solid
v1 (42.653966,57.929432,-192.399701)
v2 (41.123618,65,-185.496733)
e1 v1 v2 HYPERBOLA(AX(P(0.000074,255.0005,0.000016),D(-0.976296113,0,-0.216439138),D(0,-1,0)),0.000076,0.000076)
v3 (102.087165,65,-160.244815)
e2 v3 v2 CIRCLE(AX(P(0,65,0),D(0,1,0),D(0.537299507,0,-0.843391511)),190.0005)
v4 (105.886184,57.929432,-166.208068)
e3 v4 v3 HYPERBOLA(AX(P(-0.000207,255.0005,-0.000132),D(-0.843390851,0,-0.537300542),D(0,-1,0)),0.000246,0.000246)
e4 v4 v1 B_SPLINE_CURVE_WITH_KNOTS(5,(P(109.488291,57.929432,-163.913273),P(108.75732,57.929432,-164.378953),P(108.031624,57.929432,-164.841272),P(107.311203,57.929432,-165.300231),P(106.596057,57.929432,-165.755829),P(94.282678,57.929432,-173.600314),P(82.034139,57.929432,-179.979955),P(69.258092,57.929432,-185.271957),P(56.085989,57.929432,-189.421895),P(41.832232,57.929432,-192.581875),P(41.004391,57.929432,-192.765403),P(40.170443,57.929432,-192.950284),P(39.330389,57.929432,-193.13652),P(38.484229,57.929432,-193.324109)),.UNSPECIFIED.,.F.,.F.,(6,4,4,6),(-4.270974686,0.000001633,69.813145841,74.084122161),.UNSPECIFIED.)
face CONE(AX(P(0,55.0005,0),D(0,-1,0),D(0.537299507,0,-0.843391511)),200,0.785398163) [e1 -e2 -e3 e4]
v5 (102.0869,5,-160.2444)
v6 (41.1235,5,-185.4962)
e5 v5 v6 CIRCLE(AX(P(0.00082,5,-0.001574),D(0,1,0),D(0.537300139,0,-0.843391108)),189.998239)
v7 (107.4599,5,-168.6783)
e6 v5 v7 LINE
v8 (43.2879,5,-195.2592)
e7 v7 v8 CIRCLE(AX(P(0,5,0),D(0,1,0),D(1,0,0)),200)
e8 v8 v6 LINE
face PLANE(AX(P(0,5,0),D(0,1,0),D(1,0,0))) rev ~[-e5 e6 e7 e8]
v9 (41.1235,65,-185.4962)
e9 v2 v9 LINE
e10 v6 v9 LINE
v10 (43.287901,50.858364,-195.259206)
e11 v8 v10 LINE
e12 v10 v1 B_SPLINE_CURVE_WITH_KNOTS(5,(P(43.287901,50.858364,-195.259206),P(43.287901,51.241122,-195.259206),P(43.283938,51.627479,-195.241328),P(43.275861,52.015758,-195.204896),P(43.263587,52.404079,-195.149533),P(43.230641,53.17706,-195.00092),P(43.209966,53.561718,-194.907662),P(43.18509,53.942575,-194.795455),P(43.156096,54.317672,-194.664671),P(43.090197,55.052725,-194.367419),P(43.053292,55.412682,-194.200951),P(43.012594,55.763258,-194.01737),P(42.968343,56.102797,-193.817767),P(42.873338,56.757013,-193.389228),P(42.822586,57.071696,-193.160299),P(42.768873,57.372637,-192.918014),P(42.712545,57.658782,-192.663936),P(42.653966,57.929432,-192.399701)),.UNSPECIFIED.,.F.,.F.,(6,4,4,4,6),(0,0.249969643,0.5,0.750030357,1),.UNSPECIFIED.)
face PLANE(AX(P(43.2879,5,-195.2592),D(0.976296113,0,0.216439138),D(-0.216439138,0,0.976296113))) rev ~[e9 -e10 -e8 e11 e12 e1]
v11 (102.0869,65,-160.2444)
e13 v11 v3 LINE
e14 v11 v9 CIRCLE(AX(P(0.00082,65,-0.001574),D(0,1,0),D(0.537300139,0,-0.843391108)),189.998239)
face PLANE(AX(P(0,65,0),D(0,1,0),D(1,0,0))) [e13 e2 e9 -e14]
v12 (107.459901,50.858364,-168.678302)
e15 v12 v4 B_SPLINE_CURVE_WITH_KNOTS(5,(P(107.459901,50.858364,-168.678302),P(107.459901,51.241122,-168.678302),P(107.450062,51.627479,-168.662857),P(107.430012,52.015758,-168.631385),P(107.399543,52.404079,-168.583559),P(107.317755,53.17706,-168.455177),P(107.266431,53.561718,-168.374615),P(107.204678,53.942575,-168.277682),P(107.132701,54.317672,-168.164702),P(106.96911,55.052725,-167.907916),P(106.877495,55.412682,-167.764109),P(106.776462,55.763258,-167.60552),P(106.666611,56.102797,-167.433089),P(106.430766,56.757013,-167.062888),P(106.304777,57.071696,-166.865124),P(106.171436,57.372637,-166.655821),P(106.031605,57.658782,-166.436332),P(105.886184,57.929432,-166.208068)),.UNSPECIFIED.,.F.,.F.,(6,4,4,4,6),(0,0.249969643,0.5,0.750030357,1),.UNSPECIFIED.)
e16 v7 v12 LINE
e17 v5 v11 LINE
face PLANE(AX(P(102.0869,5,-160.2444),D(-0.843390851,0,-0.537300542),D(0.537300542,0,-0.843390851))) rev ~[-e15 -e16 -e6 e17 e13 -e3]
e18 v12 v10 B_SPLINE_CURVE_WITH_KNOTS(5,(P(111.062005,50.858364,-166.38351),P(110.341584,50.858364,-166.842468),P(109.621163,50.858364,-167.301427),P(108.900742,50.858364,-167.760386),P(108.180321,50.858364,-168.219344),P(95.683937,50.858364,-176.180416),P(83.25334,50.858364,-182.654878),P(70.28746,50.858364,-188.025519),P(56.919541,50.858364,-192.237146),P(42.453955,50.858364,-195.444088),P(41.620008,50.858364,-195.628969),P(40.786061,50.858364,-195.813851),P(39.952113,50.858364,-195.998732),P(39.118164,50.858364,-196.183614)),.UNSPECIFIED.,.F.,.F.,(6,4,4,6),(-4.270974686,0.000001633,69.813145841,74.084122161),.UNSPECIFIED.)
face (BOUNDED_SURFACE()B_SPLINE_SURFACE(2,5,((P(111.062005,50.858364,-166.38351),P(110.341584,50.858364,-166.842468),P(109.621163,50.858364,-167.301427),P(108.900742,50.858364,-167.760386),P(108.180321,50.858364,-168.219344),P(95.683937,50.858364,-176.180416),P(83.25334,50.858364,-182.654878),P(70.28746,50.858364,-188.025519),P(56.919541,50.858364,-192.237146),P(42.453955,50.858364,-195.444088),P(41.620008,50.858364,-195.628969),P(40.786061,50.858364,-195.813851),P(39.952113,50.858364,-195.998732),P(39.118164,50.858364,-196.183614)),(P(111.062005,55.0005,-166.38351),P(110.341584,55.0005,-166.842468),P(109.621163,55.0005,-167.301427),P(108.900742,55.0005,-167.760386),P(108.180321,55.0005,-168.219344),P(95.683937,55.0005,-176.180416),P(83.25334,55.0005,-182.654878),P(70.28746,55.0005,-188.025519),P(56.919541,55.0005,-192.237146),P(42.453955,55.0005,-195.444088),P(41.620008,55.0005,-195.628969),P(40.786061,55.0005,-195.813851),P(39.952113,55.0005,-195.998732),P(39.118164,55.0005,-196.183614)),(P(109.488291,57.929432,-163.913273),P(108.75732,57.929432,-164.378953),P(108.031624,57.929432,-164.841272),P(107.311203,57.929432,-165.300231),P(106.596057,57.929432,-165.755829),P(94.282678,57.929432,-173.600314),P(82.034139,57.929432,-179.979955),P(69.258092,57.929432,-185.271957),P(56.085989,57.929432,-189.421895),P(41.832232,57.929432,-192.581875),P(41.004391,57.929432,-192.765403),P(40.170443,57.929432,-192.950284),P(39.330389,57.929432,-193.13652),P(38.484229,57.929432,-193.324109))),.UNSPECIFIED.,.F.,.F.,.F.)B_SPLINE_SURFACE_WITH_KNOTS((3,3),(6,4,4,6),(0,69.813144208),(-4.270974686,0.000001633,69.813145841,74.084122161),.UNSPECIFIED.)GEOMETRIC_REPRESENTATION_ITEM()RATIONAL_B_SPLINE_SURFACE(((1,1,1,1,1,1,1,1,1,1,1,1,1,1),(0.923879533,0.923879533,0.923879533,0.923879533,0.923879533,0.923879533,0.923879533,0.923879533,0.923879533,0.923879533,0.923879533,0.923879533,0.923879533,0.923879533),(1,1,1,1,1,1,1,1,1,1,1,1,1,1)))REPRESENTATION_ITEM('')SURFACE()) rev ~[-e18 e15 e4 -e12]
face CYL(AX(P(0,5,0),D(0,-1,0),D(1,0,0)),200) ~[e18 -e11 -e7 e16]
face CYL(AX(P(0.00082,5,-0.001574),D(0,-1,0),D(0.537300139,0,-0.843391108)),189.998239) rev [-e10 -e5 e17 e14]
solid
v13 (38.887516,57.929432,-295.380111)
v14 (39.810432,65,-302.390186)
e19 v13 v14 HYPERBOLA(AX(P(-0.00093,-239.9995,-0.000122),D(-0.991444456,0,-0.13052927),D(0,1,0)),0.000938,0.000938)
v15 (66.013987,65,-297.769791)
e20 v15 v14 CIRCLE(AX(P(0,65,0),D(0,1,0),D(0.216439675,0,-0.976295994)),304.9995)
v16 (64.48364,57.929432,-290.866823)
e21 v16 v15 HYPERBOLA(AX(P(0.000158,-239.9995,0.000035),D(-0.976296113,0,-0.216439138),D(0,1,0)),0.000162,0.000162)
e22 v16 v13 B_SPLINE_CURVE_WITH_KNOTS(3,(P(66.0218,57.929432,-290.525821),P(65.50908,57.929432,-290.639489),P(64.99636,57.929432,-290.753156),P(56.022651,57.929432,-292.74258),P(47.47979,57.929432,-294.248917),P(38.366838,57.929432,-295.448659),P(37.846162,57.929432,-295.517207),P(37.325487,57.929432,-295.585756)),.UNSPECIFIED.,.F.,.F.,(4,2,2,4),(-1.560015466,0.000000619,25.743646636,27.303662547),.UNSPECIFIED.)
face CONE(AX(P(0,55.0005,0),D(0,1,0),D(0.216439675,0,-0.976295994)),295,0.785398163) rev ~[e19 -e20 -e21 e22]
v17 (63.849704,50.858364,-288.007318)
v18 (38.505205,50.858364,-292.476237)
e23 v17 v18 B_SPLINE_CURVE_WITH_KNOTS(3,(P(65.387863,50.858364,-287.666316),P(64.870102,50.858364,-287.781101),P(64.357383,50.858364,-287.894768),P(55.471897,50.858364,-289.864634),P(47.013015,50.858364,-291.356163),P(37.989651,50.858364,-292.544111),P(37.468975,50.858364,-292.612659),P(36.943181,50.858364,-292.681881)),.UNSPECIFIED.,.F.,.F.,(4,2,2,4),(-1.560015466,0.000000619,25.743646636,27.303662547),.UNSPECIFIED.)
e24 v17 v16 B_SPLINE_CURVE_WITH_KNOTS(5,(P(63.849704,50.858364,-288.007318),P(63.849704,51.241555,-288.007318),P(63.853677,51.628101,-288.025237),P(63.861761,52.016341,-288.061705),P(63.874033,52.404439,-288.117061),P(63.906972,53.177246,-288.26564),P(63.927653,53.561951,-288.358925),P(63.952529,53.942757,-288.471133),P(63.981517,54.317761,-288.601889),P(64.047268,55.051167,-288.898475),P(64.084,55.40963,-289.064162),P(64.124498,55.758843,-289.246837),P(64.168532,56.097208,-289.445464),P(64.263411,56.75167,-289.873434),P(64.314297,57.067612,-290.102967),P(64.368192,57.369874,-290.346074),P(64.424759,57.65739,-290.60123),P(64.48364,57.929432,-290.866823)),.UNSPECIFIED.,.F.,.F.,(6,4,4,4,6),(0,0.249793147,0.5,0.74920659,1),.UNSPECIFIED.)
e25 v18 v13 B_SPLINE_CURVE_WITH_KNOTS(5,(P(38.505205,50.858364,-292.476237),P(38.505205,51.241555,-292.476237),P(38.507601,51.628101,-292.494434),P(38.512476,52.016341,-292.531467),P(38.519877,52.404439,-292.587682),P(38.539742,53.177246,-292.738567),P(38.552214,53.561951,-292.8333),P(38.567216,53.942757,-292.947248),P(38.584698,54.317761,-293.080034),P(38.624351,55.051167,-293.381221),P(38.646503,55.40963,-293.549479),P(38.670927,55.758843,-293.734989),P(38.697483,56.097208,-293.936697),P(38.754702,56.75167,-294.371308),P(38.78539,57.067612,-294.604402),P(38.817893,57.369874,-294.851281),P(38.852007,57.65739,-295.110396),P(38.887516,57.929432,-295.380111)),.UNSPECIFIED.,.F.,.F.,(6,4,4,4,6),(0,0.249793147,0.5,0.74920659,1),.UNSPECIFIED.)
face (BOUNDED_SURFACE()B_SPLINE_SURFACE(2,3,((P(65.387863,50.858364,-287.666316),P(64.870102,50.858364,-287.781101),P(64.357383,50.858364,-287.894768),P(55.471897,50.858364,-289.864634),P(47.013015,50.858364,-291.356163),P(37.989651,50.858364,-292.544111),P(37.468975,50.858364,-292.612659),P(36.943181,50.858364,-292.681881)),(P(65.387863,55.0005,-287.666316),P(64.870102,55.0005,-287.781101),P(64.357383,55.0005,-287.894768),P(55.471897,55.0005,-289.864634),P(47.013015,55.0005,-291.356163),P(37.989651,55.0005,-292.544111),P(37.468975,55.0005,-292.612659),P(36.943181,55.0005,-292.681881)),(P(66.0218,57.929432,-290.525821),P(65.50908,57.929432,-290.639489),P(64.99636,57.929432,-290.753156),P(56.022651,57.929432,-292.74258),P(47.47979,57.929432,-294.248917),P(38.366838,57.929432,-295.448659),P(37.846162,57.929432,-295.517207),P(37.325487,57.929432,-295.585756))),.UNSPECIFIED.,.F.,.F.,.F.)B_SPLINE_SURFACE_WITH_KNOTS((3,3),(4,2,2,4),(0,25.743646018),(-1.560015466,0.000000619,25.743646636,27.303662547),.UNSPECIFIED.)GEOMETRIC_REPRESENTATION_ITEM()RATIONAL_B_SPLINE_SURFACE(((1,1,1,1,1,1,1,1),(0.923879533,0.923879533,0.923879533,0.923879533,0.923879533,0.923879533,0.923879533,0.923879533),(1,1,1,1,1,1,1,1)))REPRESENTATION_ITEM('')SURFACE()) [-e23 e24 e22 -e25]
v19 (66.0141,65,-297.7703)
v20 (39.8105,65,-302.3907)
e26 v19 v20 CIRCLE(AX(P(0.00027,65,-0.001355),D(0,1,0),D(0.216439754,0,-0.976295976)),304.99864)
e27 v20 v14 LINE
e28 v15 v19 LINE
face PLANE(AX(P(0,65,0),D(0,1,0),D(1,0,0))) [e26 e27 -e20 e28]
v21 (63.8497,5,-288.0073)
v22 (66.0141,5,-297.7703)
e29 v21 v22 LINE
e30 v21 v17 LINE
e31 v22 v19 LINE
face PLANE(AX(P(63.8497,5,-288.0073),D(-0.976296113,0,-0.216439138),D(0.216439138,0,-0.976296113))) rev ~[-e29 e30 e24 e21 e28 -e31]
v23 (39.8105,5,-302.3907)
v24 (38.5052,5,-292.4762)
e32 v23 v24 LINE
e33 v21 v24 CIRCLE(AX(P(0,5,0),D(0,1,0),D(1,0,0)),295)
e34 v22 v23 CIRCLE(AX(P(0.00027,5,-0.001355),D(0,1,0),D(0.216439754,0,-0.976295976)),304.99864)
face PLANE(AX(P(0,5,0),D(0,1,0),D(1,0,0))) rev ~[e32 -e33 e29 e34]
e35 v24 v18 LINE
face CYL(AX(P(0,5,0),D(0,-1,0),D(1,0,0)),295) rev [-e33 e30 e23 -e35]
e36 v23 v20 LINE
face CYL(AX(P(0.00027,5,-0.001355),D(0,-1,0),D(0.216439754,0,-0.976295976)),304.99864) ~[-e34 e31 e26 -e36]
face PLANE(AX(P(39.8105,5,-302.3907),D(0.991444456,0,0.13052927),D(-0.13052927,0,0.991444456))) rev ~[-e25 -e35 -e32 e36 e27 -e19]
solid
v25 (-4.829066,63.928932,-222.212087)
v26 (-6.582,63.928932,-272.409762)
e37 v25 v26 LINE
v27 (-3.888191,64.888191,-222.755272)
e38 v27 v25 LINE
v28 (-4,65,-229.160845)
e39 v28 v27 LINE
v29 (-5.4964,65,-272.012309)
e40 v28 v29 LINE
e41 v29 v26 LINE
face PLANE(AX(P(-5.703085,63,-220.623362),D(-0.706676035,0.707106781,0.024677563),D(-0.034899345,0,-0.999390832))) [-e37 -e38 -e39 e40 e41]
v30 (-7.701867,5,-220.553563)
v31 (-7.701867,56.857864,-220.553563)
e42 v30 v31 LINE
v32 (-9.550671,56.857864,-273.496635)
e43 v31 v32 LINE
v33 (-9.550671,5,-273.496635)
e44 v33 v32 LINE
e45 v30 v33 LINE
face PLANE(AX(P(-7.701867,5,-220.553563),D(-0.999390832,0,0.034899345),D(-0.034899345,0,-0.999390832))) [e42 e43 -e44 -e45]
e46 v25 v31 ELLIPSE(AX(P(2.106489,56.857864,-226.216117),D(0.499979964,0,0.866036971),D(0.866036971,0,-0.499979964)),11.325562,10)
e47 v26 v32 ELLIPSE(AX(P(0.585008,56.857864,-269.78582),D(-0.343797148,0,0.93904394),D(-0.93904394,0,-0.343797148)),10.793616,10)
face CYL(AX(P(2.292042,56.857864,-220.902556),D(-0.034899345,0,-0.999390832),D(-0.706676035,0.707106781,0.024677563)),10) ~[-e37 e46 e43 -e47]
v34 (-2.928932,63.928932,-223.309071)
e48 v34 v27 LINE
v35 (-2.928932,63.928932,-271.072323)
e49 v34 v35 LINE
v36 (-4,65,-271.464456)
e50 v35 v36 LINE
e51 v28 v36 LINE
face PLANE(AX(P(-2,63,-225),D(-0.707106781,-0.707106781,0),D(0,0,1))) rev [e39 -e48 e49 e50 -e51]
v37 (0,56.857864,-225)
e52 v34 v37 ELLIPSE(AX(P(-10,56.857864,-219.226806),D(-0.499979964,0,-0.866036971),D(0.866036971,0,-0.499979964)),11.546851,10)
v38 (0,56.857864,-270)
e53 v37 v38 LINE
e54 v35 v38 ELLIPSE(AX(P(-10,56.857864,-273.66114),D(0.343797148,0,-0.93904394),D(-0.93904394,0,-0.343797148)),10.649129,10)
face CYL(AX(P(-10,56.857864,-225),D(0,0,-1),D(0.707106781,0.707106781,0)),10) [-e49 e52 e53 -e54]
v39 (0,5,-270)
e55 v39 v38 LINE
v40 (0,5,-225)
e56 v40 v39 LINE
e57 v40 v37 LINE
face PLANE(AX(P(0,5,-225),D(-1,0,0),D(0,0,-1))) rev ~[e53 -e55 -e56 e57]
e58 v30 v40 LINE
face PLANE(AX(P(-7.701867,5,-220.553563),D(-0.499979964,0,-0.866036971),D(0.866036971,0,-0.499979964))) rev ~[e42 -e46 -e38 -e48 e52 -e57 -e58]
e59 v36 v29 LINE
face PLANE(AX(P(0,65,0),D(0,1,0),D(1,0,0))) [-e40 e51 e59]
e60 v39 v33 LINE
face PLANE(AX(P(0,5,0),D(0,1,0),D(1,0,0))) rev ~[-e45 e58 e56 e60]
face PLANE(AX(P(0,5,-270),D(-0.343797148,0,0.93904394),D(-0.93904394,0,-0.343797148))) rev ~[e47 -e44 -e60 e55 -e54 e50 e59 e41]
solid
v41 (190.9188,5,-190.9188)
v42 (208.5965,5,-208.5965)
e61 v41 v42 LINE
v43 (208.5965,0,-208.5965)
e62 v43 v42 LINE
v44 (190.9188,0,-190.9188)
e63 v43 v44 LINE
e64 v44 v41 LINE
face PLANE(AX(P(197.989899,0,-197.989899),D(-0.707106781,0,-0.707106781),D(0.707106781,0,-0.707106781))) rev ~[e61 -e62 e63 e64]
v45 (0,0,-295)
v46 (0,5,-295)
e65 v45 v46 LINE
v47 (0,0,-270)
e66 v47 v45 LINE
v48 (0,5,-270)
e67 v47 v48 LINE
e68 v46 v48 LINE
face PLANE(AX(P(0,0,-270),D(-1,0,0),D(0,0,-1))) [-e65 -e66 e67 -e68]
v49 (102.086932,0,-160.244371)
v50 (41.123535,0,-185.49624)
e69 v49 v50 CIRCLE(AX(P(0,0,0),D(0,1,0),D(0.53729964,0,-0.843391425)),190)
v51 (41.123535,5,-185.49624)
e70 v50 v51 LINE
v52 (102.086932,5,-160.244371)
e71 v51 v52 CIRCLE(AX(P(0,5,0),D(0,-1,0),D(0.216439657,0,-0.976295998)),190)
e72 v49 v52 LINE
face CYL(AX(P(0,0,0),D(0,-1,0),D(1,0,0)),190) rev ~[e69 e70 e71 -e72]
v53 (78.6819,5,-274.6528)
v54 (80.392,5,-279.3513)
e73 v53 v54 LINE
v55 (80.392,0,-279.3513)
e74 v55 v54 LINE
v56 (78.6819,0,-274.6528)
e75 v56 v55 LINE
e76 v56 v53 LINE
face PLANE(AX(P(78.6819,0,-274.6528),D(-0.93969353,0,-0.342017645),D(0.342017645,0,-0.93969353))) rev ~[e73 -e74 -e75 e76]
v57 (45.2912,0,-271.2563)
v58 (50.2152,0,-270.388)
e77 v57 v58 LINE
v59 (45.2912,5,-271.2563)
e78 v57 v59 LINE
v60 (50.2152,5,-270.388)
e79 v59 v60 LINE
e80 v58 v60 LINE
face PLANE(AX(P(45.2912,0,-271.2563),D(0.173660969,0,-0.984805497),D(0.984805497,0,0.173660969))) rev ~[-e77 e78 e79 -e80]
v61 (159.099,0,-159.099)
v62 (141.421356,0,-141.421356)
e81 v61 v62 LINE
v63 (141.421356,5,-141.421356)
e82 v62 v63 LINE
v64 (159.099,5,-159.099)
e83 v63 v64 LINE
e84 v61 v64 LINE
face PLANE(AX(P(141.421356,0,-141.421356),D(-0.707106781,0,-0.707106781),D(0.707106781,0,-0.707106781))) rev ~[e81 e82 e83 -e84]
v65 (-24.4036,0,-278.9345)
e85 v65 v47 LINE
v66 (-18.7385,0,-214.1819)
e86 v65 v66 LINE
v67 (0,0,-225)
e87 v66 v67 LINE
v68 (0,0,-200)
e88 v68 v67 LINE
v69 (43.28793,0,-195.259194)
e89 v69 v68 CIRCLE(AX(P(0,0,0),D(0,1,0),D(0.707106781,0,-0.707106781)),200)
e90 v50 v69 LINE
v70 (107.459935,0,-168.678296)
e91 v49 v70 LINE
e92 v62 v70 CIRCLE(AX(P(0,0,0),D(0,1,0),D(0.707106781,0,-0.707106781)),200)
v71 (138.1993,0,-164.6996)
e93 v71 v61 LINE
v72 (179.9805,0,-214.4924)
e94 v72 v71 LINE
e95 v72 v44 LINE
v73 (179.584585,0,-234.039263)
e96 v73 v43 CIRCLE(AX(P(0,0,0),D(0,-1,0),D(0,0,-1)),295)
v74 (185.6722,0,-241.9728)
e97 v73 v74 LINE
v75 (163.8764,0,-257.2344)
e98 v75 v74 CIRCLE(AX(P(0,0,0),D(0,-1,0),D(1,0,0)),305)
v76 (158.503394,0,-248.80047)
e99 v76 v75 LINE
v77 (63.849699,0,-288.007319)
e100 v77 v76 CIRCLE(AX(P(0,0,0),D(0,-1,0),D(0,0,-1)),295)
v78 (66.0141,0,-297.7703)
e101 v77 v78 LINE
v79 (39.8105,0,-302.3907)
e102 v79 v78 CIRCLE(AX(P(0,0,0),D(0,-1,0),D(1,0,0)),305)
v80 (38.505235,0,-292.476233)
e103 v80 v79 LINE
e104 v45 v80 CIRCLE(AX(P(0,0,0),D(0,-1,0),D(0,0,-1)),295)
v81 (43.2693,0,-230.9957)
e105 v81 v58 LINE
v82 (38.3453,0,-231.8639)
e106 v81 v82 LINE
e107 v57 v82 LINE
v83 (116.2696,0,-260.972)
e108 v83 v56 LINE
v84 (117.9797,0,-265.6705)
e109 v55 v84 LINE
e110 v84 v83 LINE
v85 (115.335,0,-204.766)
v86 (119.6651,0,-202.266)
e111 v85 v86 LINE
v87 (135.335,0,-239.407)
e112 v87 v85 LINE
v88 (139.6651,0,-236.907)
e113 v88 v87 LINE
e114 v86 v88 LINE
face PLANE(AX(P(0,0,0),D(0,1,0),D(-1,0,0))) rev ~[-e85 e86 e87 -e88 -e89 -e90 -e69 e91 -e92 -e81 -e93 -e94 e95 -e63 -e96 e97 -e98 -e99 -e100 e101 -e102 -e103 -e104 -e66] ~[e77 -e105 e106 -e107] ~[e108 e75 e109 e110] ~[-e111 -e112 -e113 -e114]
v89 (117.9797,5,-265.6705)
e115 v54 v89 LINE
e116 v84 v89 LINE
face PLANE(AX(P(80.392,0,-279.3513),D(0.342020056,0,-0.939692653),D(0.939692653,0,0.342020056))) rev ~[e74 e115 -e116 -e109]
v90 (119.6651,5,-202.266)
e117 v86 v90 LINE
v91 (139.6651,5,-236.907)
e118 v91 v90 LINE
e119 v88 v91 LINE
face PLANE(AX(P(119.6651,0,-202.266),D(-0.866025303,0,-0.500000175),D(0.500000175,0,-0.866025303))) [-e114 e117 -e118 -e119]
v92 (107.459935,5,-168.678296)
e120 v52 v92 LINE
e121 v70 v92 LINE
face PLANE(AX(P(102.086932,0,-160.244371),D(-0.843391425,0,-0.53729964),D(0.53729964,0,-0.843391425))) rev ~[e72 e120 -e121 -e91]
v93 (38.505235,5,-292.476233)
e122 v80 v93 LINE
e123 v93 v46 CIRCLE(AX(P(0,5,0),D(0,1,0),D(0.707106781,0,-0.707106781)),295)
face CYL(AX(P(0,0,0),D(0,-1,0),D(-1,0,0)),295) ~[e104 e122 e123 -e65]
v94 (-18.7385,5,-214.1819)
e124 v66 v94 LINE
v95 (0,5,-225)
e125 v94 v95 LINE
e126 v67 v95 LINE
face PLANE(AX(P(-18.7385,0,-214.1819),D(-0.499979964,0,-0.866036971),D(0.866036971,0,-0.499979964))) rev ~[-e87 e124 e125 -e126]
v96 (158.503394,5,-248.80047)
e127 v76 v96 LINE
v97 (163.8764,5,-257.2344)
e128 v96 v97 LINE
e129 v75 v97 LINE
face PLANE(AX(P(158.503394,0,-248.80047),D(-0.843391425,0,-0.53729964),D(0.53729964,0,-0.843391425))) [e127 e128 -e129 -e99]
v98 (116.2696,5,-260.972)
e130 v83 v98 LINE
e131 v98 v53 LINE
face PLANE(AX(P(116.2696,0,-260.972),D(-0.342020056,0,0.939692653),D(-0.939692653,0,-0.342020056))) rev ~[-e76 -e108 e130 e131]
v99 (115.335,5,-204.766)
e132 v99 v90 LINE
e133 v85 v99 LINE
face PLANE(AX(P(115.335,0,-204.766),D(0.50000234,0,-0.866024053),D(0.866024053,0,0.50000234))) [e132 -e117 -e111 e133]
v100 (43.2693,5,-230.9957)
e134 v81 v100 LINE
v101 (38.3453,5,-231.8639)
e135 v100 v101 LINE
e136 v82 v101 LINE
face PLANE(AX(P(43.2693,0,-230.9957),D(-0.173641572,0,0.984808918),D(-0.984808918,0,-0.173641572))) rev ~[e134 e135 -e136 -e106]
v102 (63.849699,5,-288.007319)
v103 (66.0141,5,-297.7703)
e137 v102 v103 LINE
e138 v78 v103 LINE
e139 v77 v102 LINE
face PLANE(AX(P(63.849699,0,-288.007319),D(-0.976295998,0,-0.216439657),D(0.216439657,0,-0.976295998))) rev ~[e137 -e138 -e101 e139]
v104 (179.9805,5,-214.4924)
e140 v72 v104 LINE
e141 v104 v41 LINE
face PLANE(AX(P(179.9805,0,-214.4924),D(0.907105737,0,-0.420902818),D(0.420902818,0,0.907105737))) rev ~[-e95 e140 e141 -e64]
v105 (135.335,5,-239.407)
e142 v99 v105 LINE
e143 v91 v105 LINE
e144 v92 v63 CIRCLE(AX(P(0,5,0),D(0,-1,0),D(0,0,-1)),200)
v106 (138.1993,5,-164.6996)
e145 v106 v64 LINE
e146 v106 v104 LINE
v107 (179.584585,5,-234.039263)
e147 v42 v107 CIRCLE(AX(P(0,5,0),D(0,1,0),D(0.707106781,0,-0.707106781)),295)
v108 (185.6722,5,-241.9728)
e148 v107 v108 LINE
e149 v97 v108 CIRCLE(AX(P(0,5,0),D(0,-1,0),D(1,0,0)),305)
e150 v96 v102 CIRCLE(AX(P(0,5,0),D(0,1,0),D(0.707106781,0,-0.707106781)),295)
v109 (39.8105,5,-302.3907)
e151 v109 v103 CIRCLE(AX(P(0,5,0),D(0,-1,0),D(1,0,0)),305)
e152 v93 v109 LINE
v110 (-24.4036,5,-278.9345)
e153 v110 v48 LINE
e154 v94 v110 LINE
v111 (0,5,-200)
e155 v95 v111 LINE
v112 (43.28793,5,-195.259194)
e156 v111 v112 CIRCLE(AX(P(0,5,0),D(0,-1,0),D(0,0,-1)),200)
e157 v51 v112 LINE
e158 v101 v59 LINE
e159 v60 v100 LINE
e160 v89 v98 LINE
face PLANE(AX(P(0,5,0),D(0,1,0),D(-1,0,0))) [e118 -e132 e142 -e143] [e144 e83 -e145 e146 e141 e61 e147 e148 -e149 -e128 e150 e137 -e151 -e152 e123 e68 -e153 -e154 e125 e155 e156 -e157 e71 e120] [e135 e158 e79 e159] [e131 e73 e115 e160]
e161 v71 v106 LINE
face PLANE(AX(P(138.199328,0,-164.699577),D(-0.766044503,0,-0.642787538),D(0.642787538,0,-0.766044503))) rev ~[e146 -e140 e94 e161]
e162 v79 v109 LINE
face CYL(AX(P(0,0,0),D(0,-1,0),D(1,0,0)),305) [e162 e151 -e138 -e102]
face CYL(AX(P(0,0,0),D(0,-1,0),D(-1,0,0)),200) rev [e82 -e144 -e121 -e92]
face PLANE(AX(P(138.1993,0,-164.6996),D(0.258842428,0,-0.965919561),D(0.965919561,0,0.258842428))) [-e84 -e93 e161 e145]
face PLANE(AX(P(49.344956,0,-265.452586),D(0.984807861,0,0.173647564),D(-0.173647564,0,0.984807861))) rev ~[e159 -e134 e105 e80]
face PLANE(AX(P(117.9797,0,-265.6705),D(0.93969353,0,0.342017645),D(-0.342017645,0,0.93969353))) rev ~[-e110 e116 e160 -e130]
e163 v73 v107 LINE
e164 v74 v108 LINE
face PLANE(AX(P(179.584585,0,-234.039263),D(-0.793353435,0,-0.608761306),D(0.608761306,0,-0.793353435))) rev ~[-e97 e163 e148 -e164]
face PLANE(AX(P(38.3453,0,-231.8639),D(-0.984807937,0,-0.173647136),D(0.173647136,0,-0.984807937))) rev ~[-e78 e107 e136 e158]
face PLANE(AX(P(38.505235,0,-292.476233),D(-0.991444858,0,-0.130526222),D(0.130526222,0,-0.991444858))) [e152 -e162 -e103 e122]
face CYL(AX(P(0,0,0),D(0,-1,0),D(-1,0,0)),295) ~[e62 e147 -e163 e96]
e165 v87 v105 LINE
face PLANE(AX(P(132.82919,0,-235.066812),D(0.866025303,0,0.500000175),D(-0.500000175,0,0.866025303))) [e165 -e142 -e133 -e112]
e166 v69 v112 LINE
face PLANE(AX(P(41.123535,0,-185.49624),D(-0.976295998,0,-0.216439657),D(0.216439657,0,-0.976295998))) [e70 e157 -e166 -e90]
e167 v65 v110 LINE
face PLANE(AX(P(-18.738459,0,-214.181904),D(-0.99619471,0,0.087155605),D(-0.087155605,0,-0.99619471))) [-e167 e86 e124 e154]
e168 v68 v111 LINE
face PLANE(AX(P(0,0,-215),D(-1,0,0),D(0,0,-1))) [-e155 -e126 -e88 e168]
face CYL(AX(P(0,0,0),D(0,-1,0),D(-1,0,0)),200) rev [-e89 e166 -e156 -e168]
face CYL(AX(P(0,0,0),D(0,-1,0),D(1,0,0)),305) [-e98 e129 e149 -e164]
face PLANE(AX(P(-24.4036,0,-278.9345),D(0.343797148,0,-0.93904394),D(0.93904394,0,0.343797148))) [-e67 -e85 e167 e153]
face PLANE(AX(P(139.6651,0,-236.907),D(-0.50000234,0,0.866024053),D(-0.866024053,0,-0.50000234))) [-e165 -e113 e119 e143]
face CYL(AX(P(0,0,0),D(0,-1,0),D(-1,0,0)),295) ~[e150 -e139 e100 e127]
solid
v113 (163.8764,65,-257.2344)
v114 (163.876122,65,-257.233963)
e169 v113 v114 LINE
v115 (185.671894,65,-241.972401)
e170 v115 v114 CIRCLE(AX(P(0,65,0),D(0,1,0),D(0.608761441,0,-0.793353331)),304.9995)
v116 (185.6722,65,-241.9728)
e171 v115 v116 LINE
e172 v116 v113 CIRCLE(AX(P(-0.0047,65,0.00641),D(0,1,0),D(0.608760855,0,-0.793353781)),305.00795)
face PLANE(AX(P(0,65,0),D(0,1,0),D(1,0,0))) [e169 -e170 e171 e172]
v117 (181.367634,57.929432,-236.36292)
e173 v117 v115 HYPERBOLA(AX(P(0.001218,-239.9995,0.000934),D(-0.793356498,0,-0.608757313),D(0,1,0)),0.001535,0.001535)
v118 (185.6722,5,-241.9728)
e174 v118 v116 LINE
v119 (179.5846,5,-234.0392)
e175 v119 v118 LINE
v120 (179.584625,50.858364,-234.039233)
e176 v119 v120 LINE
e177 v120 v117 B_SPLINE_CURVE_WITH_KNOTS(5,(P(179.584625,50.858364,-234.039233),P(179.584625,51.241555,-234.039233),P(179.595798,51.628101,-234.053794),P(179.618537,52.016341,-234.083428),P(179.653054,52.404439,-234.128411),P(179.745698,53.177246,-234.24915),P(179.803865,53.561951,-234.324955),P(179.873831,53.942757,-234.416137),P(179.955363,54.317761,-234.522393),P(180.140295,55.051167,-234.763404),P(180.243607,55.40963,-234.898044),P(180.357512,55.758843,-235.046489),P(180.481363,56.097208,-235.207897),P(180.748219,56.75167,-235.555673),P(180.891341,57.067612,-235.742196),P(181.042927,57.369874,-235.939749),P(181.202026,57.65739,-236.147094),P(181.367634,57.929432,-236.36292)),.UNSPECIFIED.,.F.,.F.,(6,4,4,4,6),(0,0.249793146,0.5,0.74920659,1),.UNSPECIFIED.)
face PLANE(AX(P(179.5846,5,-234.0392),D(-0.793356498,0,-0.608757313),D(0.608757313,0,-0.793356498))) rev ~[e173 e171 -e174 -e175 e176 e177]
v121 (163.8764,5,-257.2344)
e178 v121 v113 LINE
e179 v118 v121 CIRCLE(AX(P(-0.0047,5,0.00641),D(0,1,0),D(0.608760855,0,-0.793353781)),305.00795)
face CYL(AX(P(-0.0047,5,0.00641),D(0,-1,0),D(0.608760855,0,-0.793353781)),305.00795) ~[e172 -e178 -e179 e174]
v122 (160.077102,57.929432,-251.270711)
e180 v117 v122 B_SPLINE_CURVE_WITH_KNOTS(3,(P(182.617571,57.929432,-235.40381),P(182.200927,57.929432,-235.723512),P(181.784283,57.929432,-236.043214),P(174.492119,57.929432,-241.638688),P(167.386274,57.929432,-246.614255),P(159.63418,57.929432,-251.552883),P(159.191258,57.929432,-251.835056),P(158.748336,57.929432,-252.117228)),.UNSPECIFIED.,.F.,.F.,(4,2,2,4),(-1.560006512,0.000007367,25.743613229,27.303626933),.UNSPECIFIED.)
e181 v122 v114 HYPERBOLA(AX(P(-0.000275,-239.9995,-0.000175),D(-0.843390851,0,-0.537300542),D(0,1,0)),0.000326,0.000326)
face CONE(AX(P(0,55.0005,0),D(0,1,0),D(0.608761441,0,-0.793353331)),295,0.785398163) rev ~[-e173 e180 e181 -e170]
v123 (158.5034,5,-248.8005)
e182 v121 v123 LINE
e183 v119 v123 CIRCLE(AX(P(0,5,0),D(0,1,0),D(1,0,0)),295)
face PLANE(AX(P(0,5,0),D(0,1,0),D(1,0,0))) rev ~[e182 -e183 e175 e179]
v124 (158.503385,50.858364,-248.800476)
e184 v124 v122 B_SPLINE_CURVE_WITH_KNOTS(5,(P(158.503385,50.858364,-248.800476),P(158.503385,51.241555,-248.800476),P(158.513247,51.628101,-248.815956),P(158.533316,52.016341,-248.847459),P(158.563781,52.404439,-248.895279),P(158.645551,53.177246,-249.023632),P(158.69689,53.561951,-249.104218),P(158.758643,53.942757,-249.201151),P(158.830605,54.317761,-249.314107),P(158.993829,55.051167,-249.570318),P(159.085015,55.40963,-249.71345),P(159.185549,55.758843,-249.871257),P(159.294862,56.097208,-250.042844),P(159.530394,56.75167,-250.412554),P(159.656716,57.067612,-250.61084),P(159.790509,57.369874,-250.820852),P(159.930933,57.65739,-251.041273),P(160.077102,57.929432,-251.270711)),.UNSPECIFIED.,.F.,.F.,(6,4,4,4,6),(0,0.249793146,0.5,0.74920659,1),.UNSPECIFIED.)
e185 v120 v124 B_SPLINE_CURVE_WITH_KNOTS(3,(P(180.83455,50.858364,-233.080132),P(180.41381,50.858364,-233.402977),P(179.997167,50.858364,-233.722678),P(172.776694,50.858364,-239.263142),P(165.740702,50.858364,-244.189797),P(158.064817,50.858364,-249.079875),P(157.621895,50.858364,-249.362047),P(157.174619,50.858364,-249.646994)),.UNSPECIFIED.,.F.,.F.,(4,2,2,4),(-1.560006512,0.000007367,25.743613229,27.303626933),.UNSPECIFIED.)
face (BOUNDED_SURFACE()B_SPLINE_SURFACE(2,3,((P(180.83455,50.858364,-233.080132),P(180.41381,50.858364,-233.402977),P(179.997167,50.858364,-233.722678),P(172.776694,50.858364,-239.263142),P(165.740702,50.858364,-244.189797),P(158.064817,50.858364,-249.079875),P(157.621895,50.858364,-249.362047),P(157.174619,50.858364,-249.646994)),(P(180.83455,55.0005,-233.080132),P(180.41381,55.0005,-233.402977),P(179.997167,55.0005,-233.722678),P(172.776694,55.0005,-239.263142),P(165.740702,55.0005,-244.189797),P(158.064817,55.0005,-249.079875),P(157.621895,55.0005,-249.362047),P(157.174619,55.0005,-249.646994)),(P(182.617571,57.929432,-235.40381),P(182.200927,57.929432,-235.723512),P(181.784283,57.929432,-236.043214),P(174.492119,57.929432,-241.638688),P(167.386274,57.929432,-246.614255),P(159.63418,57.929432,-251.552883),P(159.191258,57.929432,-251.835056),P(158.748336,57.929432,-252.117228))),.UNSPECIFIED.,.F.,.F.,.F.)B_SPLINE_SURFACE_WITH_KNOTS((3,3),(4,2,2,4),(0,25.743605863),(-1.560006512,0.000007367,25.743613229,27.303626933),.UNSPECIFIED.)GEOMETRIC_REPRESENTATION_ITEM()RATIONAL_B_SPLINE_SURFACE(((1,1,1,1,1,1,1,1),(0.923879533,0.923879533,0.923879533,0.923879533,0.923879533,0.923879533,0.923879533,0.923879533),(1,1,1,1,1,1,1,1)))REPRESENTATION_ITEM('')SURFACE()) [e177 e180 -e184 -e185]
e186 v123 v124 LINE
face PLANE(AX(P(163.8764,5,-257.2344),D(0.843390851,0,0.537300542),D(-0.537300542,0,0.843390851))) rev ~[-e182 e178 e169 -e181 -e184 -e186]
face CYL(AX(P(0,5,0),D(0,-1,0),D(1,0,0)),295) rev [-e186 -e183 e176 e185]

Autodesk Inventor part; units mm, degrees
ref_plane "YZ Plane" through (0, 0, 0) normal (1, 0, 0) x (0, 1, 0)
ref_plane "XZ Plane" through (0, 0, 0) normal (0, 1, 0) x (-1, 0, 0)
ref_plane "XY Plane" through (0, 0, 0) normal (0, 0, 1) x (1, 0, 0)
sketch "Sketch1" plane through (0, 0, 0) normal (0, 1, 0) x (-1, 0, 0)
  circle A0 centre (0, 0) radius 215
  circle A1 centre (0, 0) radius 280
  circle A2 centre (0, 0) radius 200
  circle A3 centre (0, 0) radius 295
  circle A4 centre (0, 0) radius 270
  circle A5 centre (0, 0) radius 225
  line L0 (0, 0) -> (0, -295)
  line L1 (0, 0) -> (-208.5965, -208.5965)
  line L2 (0, 0) -> (-189.6223, -225.9831)
  line L3 (0, 0) -> (25.7109, -293.8774)
  line L4 (24.4036, -278.9345) -> (0, -270)
  line L5 (18.7385, -214.1819) -> (0, -225)
  line L6 (-138.1993, -164.6996) -> (-159.099, -159.099)
  line L7 (-179.9805, -214.4924) -> (-190.9188, -190.9188)
  line L8 (0, 0) -> (-100.8959, -277.2093) construction
  circle A6 centre (0, 0) radius 235 construction
  circle A7 centre (0, 0) radius 275 construction
  circle A8 centre (0, 0) radius 325 construction
  circle A9 centre (0, 0) radius 255 construction
  circle A10 centre (0, 0) radius 285 construction
  line L9 (-80.392, -279.3513) -> (-117.9797, -265.6705)
  line L10 (-117.9797, -265.6705) -> (-116.2696, -260.972)
  line L11 (-116.2696, -260.972) -> (-78.6819, -274.6528)
  line L12 (-78.6819, -274.6528) -> (-80.392, -279.3513)
  line L13 (-80.392, -279.3513) -> (-116.2696, -260.972) construction
  line L14 (-117.9797, -265.6705) -> (-78.6819, -274.6528) construction
  line L15 (-98.3308, -270.1616) -> (-99.1858, -272.5109) construction
  line L16 (-139.6651, -236.907) -> (-135.335, -239.407)
  line L17 (-135.335, -239.407) -> (-115.335, -204.766)
  line L18 (-115.335, -204.766) -> (-119.6651, -202.266)
  line L19 (-119.6651, -202.266) -> (-139.6651, -236.907)
  line L20 (-139.6651, -236.907) -> (-115.335, -204.766) construction
  line L21 (-135.335, -239.407) -> (-119.6651, -202.266) construction
  line L22 (-137.5, -238.157) -> (-117.5, -203.516) construction
  circle A11 centre (0, 0) radius 275 construction
  line L23 (-45.2912, -271.2563) -> (-50.2152, -270.388)
  line L24 (-50.2152, -270.388) -> (-43.2693, -230.9957)
  line L25 (-43.2693, -230.9957) -> (-38.3453, -231.8639)
  line L26 (-38.3453, -231.8639) -> (-45.2912, -271.2563)
  line L27 (-45.2912, -271.2563) -> (-43.2693, -230.9957) construction
  line L28 (-50.2152, -270.388) -> (-38.3453, -231.8639) construction
  line L29 (-47.7532, -270.8221) -> (-40.8073, -231.4298) construction
  circle A12 centre (0, 0) radius 165 construction
  point P0 (0, -200)
  point P1 (-141.4214, -141.4214)
  point P2 (23.5321, -268.9726)
  point P3 (-127.5, -220.8365)
  point P4 (-44.2803, -251.126)
  dimension "d3" = 430
  dimension "d5" = 15
  dimension "d7" = 45
  dimension "d8" = 5
  dimension "d9" = 5
  dimension "d10" = 10
  dimension "d12" = 10
  dimension "d15" = 20
  dimension "d18" = 590
  dimension "d19" = 650
  dimension "d20" = 90
  dimension "d24" = 20
  dimension "d29" = 5
  dimension "d30" = 40
  dimension "d33" = 5
  dimension "d34" = 40
  dimension "d37" = 40
  dimension "d41" = 330
  dimension "d42" = 35
  dimension "d45" = 10
extrude "Extrusion1" add sketch "Sketch1" along normal blind 5 contours L3 A5 L5 | L0 A5 L2 A0 | A0 L2 A2 L0 | L3 A4 L0 A5 | L0 A4 L26 L25 L24 L17 L18 L19 L2 A5 | L1 A2 L2 A0 | A0 L6 L1 | L3 L4 A4 | L0 A1 L2 A4 L19 L16 L17 L24 L23 L26 | L0 A3 L2 A1 | L7 A1 L1 | L2 A3 L1 A1
sketch "Sketch2" plane through (0, 0, 0) normal (0, -1, 0) x (1, 0, 0)
  line L0 (179.9805, -214.4924) -> (190.9188, -190.9188) projected
  line L1 (190.9188, -190.9188) -> (208.5965, -208.5965) projected
  arc A0 (0, -295) -> (208.5965, -208.5965) centre (0, 0) ccw projected
  line L2 (0, -295) -> (0, -270) projected
  line L3 (0, -270) -> (-24.4036, -278.9345) projected
  line L4 (-24.4036, -278.9345) -> (-18.7385, -214.1819) projected
  line L5 (-18.7385, -214.1819) -> (0, -225) projected
  line L6 (0, -225) -> (0, -200) projected
  arc A1 (0, -200) -> (141.4214, -141.4214) centre (0, 0) ccw projected
  line L7 (141.4214, -141.4214) -> (159.099, -159.099) projected
  line L8 (159.099, -159.099) -> (138.1993, -164.6996) projected
  line L9 (138.1993, -164.6996) -> (179.9805, -214.4924) projected
  line L10 (115.335, -204.766) -> (135.335, -239.407) projected
  line L11 (135.335, -239.407) -> (139.6651, -236.907) projected
  line L12 (139.6651, -236.907) -> (119.6651, -202.266) projected
  line L13 (119.6651, -202.266) -> (115.335, -204.766) projected
  line L14 (50.2152, -270.388) -> (43.2693, -230.9957) projected
  line L15 (43.2693, -230.9957) -> (38.3453, -231.8639) projected
  line L16 (38.3453, -231.8639) -> (45.2912, -271.2563) projected
  line L17 (45.2912, -271.2563) -> (50.2152, -270.388) projected
  line L18 (80.392, -279.3513) -> (117.9797, -265.6705) projected
  line L19 (117.9797, -265.6705) -> (116.2696, -260.972) projected
  line L20 (116.2696, -260.972) -> (78.6819, -274.6528) projected
  line L21 (78.6819, -274.6528) -> (80.392, -279.3513) projected
  circle A2 centre (0, 0) radius 200
  circle A3 centre (0, 0) radius 295
  circle A4 centre (0, 0) radius 305
  circle A5 centre (0, 0) radius 190
  line L22 (0, 0) -> (51.7638, -193.1852)
  arc A6 (0, -200) -> (141.4214, -141.4214) centre (0, 0) ccw projected
  line L23 (0, 0) -> (100, -173.2051)
  line L24 (0, 0) -> (39.8105, -302.3907)
  line L25 (0, 0) -> (66.0141, -297.7703)
  line L26 (0, 0) -> (163.8764, -257.2344)
  line L27 (0, 0) -> (185.6722, -241.9728)
  line L28 (0, 0) -> (116.7184, -281.7833) construction
  line L29 (0, 0) -> (0, -305) construction
  point P0 (41.1235, -185.4962)
  point P1 (43.2879, -195.2592)
  point P2 (107.4599, -168.6783)
  point P3 (102.0869, -160.2444)
  point P4 (179.5846, -234.0392)
  point P5 (158.5034, -248.8005)
  point P6 (63.8497, -288.0073)
  point P7 (38.5052, -292.4762)
  dimension "d46" = 10
  dimension "d47" = 10
  dimension "d50" = 15
  dimension "d51" = 5
  dimension "d52" = 5
  dimension "d53" = 22.5
  dimension "d54" = 10
  dimension "d55" = 10
  dimension "d56" = 7.5
extrude "Extrusion2" add sketch "Sketch2" against normal blind 5 contours L27 A4 L26 A0 | L25 A4 L24 A0 | A1 L23 A5 L26 | L25 A5 L22 A1 | A1 L22 A5 L23
sketch "Sketch3" plane through (0, 5, 0) normal (0, 1, 0) x (1, 0, 0)
  line L0 (179.9805, 214.4924) -> (190.9188, 190.9188) projected
  line L1 (190.9188, 190.9188) -> (208.5965, 208.5965) projected
  arc A0 (208.5965, 208.5965) -> (179.5846, 234.0392) centre (0, 0) ccw projected
  line L2 (179.5846, 234.0392) -> (185.6722, 241.9728) projected
  arc A1 (185.6722, 241.9728) -> (163.8764, 257.2344) centre (0, 0) ccw projected
  line L3 (163.8764, 257.2344) -> (158.5034, 248.8005) projected
  arc A2 (158.5034, 248.8005) -> (63.8497, 288.0073) centre (0, 0) ccw projected
  line L4 (63.8497, 288.0073) -> (66.0141, 297.7703) projected
  arc A3 (66.0141, 297.7703) -> (39.8105, 302.3907) centre (0, 0) ccw projected
  line L5 (39.8105, 302.3907) -> (38.5052, 292.4762) projected
  arc A4 (38.5052, 292.4762) -> (0, 295) centre (0, 0) ccw projected
  line L6 (0, 295) -> (0, 270) projected
  line L7 (0, 270) -> (-24.4036, 278.9345) projected
  line L8 (-24.4036, 278.9345) -> (-18.7385, 214.1819) projected
  line L9 (-18.7385, 214.1819) -> (0, 225) projected
  line L10 (0, 225) -> (0, 200) projected
  arc A5 (43.2879, 195.2592) -> (0, 200) centre (0, 0) ccw projected
  line L11 (43.2879, 195.2592) -> (41.1235, 185.4962) projected
  arc A6 (102.0869, 160.2444) -> (41.1235, 185.4962) centre (0, 0) ccw projected
  line L12 (102.0869, 160.2444) -> (107.4599, 168.6783) projected
  arc A7 (141.4214, 141.4214) -> (107.4599, 168.6783) centre (0, 0) ccw projected
  line L13 (141.4214, 141.4214) -> (159.099, 159.099) projected
  line L14 (159.099, 159.099) -> (138.1993, 164.6996) projected
  line L15 (138.1993, 164.6996) -> (179.9805, 214.4924) projected
  line L16 (115.335, 204.766) -> (135.335, 239.407) projected
  line L17 (135.335, 239.407) -> (139.6651, 236.907) projected
  line L18 (139.6651, 236.907) -> (119.6651, 202.266) projected
  line L19 (119.6651, 202.266) -> (115.335, 204.766) projected
  line L20 (50.2152, 270.388) -> (43.2693, 230.9957) projected
  line L21 (43.2693, 230.9957) -> (38.3453, 231.8639) projected
  line L22 (38.3453, 231.8639) -> (45.2912, 271.2563) projected
  line L23 (45.2912, 271.2563) -> (50.2152, 270.388) projected
  line L24 (80.392, 279.3513) -> (117.9797, 265.6705) projected
  line L25 (117.9797, 265.6705) -> (116.2696, 260.972) projected
  line L26 (116.2696, 260.972) -> (78.6819, 274.6528) projected
  line L27 (78.6819, 274.6528) -> (80.392, 279.3513) projected
  circle A8 centre (0, 0) radius 190
  circle A9 centre (0, 0) radius 200
  circle A10 centre (0, 0) radius 295
  circle A11 centre (0, 0) radius 305
  line L28 (0, 0) -> (43.2879, 195.2592)
  line L29 (0, 0) -> (107.4599, 168.6783)
  line L30 (0, 0) -> (39.8105, 302.3907)
  line L31 (0, 0) -> (66.0141, 297.7703)
  line L32 (0, 0) -> (163.8764, 257.2344)
  line L33 (0, 0) -> (185.6722, 241.9728)
  line L34 (0, 0) -> (0, 305)
  line L35 (0, 0) -> (-10.6443, 304.8142)
  point P0 (43.2879, 195.2592)
  point P1 (179.5846, 234.0392)
  point P2 (63.8497, 288.0073)
  point P3 (-9.5507, 273.4967)
  point P4 (-7.7019, 220.5535)
  dimension "d59" = 2
extrude "Extrusion3" add sketch "Sketch3" along normal blind 60 separate body contours A10 L3 A1 L2 | A10 L5 A3 L4 | L12 A6 L11 A9 | L7 L34 L9 L35
chamfer "Chamfer1" distance 10 angle 45 3 edges at (51.2262, 65, -290.5183) (76.5367, 65, -184.7759) (169.205, 65, -241.6499)
fillet "Fillet1" radius 10 3 edges at (51.2262, 55.0005, -290.5183) (169.205, 55.0005, -241.6499) (76.5367, 55.0005, -184.7759)
chamfer "Chamfer2" distance 4 angle 45 2 edges at (0, 65, -247.5) (-8.6263, 65, -247.0251)
fillet "Fillet2" radius 10 2 edges at (0, 61, -247.5) (-8.6263, 61, -247.0251)
properties part number "Moving Carousel Upper"
